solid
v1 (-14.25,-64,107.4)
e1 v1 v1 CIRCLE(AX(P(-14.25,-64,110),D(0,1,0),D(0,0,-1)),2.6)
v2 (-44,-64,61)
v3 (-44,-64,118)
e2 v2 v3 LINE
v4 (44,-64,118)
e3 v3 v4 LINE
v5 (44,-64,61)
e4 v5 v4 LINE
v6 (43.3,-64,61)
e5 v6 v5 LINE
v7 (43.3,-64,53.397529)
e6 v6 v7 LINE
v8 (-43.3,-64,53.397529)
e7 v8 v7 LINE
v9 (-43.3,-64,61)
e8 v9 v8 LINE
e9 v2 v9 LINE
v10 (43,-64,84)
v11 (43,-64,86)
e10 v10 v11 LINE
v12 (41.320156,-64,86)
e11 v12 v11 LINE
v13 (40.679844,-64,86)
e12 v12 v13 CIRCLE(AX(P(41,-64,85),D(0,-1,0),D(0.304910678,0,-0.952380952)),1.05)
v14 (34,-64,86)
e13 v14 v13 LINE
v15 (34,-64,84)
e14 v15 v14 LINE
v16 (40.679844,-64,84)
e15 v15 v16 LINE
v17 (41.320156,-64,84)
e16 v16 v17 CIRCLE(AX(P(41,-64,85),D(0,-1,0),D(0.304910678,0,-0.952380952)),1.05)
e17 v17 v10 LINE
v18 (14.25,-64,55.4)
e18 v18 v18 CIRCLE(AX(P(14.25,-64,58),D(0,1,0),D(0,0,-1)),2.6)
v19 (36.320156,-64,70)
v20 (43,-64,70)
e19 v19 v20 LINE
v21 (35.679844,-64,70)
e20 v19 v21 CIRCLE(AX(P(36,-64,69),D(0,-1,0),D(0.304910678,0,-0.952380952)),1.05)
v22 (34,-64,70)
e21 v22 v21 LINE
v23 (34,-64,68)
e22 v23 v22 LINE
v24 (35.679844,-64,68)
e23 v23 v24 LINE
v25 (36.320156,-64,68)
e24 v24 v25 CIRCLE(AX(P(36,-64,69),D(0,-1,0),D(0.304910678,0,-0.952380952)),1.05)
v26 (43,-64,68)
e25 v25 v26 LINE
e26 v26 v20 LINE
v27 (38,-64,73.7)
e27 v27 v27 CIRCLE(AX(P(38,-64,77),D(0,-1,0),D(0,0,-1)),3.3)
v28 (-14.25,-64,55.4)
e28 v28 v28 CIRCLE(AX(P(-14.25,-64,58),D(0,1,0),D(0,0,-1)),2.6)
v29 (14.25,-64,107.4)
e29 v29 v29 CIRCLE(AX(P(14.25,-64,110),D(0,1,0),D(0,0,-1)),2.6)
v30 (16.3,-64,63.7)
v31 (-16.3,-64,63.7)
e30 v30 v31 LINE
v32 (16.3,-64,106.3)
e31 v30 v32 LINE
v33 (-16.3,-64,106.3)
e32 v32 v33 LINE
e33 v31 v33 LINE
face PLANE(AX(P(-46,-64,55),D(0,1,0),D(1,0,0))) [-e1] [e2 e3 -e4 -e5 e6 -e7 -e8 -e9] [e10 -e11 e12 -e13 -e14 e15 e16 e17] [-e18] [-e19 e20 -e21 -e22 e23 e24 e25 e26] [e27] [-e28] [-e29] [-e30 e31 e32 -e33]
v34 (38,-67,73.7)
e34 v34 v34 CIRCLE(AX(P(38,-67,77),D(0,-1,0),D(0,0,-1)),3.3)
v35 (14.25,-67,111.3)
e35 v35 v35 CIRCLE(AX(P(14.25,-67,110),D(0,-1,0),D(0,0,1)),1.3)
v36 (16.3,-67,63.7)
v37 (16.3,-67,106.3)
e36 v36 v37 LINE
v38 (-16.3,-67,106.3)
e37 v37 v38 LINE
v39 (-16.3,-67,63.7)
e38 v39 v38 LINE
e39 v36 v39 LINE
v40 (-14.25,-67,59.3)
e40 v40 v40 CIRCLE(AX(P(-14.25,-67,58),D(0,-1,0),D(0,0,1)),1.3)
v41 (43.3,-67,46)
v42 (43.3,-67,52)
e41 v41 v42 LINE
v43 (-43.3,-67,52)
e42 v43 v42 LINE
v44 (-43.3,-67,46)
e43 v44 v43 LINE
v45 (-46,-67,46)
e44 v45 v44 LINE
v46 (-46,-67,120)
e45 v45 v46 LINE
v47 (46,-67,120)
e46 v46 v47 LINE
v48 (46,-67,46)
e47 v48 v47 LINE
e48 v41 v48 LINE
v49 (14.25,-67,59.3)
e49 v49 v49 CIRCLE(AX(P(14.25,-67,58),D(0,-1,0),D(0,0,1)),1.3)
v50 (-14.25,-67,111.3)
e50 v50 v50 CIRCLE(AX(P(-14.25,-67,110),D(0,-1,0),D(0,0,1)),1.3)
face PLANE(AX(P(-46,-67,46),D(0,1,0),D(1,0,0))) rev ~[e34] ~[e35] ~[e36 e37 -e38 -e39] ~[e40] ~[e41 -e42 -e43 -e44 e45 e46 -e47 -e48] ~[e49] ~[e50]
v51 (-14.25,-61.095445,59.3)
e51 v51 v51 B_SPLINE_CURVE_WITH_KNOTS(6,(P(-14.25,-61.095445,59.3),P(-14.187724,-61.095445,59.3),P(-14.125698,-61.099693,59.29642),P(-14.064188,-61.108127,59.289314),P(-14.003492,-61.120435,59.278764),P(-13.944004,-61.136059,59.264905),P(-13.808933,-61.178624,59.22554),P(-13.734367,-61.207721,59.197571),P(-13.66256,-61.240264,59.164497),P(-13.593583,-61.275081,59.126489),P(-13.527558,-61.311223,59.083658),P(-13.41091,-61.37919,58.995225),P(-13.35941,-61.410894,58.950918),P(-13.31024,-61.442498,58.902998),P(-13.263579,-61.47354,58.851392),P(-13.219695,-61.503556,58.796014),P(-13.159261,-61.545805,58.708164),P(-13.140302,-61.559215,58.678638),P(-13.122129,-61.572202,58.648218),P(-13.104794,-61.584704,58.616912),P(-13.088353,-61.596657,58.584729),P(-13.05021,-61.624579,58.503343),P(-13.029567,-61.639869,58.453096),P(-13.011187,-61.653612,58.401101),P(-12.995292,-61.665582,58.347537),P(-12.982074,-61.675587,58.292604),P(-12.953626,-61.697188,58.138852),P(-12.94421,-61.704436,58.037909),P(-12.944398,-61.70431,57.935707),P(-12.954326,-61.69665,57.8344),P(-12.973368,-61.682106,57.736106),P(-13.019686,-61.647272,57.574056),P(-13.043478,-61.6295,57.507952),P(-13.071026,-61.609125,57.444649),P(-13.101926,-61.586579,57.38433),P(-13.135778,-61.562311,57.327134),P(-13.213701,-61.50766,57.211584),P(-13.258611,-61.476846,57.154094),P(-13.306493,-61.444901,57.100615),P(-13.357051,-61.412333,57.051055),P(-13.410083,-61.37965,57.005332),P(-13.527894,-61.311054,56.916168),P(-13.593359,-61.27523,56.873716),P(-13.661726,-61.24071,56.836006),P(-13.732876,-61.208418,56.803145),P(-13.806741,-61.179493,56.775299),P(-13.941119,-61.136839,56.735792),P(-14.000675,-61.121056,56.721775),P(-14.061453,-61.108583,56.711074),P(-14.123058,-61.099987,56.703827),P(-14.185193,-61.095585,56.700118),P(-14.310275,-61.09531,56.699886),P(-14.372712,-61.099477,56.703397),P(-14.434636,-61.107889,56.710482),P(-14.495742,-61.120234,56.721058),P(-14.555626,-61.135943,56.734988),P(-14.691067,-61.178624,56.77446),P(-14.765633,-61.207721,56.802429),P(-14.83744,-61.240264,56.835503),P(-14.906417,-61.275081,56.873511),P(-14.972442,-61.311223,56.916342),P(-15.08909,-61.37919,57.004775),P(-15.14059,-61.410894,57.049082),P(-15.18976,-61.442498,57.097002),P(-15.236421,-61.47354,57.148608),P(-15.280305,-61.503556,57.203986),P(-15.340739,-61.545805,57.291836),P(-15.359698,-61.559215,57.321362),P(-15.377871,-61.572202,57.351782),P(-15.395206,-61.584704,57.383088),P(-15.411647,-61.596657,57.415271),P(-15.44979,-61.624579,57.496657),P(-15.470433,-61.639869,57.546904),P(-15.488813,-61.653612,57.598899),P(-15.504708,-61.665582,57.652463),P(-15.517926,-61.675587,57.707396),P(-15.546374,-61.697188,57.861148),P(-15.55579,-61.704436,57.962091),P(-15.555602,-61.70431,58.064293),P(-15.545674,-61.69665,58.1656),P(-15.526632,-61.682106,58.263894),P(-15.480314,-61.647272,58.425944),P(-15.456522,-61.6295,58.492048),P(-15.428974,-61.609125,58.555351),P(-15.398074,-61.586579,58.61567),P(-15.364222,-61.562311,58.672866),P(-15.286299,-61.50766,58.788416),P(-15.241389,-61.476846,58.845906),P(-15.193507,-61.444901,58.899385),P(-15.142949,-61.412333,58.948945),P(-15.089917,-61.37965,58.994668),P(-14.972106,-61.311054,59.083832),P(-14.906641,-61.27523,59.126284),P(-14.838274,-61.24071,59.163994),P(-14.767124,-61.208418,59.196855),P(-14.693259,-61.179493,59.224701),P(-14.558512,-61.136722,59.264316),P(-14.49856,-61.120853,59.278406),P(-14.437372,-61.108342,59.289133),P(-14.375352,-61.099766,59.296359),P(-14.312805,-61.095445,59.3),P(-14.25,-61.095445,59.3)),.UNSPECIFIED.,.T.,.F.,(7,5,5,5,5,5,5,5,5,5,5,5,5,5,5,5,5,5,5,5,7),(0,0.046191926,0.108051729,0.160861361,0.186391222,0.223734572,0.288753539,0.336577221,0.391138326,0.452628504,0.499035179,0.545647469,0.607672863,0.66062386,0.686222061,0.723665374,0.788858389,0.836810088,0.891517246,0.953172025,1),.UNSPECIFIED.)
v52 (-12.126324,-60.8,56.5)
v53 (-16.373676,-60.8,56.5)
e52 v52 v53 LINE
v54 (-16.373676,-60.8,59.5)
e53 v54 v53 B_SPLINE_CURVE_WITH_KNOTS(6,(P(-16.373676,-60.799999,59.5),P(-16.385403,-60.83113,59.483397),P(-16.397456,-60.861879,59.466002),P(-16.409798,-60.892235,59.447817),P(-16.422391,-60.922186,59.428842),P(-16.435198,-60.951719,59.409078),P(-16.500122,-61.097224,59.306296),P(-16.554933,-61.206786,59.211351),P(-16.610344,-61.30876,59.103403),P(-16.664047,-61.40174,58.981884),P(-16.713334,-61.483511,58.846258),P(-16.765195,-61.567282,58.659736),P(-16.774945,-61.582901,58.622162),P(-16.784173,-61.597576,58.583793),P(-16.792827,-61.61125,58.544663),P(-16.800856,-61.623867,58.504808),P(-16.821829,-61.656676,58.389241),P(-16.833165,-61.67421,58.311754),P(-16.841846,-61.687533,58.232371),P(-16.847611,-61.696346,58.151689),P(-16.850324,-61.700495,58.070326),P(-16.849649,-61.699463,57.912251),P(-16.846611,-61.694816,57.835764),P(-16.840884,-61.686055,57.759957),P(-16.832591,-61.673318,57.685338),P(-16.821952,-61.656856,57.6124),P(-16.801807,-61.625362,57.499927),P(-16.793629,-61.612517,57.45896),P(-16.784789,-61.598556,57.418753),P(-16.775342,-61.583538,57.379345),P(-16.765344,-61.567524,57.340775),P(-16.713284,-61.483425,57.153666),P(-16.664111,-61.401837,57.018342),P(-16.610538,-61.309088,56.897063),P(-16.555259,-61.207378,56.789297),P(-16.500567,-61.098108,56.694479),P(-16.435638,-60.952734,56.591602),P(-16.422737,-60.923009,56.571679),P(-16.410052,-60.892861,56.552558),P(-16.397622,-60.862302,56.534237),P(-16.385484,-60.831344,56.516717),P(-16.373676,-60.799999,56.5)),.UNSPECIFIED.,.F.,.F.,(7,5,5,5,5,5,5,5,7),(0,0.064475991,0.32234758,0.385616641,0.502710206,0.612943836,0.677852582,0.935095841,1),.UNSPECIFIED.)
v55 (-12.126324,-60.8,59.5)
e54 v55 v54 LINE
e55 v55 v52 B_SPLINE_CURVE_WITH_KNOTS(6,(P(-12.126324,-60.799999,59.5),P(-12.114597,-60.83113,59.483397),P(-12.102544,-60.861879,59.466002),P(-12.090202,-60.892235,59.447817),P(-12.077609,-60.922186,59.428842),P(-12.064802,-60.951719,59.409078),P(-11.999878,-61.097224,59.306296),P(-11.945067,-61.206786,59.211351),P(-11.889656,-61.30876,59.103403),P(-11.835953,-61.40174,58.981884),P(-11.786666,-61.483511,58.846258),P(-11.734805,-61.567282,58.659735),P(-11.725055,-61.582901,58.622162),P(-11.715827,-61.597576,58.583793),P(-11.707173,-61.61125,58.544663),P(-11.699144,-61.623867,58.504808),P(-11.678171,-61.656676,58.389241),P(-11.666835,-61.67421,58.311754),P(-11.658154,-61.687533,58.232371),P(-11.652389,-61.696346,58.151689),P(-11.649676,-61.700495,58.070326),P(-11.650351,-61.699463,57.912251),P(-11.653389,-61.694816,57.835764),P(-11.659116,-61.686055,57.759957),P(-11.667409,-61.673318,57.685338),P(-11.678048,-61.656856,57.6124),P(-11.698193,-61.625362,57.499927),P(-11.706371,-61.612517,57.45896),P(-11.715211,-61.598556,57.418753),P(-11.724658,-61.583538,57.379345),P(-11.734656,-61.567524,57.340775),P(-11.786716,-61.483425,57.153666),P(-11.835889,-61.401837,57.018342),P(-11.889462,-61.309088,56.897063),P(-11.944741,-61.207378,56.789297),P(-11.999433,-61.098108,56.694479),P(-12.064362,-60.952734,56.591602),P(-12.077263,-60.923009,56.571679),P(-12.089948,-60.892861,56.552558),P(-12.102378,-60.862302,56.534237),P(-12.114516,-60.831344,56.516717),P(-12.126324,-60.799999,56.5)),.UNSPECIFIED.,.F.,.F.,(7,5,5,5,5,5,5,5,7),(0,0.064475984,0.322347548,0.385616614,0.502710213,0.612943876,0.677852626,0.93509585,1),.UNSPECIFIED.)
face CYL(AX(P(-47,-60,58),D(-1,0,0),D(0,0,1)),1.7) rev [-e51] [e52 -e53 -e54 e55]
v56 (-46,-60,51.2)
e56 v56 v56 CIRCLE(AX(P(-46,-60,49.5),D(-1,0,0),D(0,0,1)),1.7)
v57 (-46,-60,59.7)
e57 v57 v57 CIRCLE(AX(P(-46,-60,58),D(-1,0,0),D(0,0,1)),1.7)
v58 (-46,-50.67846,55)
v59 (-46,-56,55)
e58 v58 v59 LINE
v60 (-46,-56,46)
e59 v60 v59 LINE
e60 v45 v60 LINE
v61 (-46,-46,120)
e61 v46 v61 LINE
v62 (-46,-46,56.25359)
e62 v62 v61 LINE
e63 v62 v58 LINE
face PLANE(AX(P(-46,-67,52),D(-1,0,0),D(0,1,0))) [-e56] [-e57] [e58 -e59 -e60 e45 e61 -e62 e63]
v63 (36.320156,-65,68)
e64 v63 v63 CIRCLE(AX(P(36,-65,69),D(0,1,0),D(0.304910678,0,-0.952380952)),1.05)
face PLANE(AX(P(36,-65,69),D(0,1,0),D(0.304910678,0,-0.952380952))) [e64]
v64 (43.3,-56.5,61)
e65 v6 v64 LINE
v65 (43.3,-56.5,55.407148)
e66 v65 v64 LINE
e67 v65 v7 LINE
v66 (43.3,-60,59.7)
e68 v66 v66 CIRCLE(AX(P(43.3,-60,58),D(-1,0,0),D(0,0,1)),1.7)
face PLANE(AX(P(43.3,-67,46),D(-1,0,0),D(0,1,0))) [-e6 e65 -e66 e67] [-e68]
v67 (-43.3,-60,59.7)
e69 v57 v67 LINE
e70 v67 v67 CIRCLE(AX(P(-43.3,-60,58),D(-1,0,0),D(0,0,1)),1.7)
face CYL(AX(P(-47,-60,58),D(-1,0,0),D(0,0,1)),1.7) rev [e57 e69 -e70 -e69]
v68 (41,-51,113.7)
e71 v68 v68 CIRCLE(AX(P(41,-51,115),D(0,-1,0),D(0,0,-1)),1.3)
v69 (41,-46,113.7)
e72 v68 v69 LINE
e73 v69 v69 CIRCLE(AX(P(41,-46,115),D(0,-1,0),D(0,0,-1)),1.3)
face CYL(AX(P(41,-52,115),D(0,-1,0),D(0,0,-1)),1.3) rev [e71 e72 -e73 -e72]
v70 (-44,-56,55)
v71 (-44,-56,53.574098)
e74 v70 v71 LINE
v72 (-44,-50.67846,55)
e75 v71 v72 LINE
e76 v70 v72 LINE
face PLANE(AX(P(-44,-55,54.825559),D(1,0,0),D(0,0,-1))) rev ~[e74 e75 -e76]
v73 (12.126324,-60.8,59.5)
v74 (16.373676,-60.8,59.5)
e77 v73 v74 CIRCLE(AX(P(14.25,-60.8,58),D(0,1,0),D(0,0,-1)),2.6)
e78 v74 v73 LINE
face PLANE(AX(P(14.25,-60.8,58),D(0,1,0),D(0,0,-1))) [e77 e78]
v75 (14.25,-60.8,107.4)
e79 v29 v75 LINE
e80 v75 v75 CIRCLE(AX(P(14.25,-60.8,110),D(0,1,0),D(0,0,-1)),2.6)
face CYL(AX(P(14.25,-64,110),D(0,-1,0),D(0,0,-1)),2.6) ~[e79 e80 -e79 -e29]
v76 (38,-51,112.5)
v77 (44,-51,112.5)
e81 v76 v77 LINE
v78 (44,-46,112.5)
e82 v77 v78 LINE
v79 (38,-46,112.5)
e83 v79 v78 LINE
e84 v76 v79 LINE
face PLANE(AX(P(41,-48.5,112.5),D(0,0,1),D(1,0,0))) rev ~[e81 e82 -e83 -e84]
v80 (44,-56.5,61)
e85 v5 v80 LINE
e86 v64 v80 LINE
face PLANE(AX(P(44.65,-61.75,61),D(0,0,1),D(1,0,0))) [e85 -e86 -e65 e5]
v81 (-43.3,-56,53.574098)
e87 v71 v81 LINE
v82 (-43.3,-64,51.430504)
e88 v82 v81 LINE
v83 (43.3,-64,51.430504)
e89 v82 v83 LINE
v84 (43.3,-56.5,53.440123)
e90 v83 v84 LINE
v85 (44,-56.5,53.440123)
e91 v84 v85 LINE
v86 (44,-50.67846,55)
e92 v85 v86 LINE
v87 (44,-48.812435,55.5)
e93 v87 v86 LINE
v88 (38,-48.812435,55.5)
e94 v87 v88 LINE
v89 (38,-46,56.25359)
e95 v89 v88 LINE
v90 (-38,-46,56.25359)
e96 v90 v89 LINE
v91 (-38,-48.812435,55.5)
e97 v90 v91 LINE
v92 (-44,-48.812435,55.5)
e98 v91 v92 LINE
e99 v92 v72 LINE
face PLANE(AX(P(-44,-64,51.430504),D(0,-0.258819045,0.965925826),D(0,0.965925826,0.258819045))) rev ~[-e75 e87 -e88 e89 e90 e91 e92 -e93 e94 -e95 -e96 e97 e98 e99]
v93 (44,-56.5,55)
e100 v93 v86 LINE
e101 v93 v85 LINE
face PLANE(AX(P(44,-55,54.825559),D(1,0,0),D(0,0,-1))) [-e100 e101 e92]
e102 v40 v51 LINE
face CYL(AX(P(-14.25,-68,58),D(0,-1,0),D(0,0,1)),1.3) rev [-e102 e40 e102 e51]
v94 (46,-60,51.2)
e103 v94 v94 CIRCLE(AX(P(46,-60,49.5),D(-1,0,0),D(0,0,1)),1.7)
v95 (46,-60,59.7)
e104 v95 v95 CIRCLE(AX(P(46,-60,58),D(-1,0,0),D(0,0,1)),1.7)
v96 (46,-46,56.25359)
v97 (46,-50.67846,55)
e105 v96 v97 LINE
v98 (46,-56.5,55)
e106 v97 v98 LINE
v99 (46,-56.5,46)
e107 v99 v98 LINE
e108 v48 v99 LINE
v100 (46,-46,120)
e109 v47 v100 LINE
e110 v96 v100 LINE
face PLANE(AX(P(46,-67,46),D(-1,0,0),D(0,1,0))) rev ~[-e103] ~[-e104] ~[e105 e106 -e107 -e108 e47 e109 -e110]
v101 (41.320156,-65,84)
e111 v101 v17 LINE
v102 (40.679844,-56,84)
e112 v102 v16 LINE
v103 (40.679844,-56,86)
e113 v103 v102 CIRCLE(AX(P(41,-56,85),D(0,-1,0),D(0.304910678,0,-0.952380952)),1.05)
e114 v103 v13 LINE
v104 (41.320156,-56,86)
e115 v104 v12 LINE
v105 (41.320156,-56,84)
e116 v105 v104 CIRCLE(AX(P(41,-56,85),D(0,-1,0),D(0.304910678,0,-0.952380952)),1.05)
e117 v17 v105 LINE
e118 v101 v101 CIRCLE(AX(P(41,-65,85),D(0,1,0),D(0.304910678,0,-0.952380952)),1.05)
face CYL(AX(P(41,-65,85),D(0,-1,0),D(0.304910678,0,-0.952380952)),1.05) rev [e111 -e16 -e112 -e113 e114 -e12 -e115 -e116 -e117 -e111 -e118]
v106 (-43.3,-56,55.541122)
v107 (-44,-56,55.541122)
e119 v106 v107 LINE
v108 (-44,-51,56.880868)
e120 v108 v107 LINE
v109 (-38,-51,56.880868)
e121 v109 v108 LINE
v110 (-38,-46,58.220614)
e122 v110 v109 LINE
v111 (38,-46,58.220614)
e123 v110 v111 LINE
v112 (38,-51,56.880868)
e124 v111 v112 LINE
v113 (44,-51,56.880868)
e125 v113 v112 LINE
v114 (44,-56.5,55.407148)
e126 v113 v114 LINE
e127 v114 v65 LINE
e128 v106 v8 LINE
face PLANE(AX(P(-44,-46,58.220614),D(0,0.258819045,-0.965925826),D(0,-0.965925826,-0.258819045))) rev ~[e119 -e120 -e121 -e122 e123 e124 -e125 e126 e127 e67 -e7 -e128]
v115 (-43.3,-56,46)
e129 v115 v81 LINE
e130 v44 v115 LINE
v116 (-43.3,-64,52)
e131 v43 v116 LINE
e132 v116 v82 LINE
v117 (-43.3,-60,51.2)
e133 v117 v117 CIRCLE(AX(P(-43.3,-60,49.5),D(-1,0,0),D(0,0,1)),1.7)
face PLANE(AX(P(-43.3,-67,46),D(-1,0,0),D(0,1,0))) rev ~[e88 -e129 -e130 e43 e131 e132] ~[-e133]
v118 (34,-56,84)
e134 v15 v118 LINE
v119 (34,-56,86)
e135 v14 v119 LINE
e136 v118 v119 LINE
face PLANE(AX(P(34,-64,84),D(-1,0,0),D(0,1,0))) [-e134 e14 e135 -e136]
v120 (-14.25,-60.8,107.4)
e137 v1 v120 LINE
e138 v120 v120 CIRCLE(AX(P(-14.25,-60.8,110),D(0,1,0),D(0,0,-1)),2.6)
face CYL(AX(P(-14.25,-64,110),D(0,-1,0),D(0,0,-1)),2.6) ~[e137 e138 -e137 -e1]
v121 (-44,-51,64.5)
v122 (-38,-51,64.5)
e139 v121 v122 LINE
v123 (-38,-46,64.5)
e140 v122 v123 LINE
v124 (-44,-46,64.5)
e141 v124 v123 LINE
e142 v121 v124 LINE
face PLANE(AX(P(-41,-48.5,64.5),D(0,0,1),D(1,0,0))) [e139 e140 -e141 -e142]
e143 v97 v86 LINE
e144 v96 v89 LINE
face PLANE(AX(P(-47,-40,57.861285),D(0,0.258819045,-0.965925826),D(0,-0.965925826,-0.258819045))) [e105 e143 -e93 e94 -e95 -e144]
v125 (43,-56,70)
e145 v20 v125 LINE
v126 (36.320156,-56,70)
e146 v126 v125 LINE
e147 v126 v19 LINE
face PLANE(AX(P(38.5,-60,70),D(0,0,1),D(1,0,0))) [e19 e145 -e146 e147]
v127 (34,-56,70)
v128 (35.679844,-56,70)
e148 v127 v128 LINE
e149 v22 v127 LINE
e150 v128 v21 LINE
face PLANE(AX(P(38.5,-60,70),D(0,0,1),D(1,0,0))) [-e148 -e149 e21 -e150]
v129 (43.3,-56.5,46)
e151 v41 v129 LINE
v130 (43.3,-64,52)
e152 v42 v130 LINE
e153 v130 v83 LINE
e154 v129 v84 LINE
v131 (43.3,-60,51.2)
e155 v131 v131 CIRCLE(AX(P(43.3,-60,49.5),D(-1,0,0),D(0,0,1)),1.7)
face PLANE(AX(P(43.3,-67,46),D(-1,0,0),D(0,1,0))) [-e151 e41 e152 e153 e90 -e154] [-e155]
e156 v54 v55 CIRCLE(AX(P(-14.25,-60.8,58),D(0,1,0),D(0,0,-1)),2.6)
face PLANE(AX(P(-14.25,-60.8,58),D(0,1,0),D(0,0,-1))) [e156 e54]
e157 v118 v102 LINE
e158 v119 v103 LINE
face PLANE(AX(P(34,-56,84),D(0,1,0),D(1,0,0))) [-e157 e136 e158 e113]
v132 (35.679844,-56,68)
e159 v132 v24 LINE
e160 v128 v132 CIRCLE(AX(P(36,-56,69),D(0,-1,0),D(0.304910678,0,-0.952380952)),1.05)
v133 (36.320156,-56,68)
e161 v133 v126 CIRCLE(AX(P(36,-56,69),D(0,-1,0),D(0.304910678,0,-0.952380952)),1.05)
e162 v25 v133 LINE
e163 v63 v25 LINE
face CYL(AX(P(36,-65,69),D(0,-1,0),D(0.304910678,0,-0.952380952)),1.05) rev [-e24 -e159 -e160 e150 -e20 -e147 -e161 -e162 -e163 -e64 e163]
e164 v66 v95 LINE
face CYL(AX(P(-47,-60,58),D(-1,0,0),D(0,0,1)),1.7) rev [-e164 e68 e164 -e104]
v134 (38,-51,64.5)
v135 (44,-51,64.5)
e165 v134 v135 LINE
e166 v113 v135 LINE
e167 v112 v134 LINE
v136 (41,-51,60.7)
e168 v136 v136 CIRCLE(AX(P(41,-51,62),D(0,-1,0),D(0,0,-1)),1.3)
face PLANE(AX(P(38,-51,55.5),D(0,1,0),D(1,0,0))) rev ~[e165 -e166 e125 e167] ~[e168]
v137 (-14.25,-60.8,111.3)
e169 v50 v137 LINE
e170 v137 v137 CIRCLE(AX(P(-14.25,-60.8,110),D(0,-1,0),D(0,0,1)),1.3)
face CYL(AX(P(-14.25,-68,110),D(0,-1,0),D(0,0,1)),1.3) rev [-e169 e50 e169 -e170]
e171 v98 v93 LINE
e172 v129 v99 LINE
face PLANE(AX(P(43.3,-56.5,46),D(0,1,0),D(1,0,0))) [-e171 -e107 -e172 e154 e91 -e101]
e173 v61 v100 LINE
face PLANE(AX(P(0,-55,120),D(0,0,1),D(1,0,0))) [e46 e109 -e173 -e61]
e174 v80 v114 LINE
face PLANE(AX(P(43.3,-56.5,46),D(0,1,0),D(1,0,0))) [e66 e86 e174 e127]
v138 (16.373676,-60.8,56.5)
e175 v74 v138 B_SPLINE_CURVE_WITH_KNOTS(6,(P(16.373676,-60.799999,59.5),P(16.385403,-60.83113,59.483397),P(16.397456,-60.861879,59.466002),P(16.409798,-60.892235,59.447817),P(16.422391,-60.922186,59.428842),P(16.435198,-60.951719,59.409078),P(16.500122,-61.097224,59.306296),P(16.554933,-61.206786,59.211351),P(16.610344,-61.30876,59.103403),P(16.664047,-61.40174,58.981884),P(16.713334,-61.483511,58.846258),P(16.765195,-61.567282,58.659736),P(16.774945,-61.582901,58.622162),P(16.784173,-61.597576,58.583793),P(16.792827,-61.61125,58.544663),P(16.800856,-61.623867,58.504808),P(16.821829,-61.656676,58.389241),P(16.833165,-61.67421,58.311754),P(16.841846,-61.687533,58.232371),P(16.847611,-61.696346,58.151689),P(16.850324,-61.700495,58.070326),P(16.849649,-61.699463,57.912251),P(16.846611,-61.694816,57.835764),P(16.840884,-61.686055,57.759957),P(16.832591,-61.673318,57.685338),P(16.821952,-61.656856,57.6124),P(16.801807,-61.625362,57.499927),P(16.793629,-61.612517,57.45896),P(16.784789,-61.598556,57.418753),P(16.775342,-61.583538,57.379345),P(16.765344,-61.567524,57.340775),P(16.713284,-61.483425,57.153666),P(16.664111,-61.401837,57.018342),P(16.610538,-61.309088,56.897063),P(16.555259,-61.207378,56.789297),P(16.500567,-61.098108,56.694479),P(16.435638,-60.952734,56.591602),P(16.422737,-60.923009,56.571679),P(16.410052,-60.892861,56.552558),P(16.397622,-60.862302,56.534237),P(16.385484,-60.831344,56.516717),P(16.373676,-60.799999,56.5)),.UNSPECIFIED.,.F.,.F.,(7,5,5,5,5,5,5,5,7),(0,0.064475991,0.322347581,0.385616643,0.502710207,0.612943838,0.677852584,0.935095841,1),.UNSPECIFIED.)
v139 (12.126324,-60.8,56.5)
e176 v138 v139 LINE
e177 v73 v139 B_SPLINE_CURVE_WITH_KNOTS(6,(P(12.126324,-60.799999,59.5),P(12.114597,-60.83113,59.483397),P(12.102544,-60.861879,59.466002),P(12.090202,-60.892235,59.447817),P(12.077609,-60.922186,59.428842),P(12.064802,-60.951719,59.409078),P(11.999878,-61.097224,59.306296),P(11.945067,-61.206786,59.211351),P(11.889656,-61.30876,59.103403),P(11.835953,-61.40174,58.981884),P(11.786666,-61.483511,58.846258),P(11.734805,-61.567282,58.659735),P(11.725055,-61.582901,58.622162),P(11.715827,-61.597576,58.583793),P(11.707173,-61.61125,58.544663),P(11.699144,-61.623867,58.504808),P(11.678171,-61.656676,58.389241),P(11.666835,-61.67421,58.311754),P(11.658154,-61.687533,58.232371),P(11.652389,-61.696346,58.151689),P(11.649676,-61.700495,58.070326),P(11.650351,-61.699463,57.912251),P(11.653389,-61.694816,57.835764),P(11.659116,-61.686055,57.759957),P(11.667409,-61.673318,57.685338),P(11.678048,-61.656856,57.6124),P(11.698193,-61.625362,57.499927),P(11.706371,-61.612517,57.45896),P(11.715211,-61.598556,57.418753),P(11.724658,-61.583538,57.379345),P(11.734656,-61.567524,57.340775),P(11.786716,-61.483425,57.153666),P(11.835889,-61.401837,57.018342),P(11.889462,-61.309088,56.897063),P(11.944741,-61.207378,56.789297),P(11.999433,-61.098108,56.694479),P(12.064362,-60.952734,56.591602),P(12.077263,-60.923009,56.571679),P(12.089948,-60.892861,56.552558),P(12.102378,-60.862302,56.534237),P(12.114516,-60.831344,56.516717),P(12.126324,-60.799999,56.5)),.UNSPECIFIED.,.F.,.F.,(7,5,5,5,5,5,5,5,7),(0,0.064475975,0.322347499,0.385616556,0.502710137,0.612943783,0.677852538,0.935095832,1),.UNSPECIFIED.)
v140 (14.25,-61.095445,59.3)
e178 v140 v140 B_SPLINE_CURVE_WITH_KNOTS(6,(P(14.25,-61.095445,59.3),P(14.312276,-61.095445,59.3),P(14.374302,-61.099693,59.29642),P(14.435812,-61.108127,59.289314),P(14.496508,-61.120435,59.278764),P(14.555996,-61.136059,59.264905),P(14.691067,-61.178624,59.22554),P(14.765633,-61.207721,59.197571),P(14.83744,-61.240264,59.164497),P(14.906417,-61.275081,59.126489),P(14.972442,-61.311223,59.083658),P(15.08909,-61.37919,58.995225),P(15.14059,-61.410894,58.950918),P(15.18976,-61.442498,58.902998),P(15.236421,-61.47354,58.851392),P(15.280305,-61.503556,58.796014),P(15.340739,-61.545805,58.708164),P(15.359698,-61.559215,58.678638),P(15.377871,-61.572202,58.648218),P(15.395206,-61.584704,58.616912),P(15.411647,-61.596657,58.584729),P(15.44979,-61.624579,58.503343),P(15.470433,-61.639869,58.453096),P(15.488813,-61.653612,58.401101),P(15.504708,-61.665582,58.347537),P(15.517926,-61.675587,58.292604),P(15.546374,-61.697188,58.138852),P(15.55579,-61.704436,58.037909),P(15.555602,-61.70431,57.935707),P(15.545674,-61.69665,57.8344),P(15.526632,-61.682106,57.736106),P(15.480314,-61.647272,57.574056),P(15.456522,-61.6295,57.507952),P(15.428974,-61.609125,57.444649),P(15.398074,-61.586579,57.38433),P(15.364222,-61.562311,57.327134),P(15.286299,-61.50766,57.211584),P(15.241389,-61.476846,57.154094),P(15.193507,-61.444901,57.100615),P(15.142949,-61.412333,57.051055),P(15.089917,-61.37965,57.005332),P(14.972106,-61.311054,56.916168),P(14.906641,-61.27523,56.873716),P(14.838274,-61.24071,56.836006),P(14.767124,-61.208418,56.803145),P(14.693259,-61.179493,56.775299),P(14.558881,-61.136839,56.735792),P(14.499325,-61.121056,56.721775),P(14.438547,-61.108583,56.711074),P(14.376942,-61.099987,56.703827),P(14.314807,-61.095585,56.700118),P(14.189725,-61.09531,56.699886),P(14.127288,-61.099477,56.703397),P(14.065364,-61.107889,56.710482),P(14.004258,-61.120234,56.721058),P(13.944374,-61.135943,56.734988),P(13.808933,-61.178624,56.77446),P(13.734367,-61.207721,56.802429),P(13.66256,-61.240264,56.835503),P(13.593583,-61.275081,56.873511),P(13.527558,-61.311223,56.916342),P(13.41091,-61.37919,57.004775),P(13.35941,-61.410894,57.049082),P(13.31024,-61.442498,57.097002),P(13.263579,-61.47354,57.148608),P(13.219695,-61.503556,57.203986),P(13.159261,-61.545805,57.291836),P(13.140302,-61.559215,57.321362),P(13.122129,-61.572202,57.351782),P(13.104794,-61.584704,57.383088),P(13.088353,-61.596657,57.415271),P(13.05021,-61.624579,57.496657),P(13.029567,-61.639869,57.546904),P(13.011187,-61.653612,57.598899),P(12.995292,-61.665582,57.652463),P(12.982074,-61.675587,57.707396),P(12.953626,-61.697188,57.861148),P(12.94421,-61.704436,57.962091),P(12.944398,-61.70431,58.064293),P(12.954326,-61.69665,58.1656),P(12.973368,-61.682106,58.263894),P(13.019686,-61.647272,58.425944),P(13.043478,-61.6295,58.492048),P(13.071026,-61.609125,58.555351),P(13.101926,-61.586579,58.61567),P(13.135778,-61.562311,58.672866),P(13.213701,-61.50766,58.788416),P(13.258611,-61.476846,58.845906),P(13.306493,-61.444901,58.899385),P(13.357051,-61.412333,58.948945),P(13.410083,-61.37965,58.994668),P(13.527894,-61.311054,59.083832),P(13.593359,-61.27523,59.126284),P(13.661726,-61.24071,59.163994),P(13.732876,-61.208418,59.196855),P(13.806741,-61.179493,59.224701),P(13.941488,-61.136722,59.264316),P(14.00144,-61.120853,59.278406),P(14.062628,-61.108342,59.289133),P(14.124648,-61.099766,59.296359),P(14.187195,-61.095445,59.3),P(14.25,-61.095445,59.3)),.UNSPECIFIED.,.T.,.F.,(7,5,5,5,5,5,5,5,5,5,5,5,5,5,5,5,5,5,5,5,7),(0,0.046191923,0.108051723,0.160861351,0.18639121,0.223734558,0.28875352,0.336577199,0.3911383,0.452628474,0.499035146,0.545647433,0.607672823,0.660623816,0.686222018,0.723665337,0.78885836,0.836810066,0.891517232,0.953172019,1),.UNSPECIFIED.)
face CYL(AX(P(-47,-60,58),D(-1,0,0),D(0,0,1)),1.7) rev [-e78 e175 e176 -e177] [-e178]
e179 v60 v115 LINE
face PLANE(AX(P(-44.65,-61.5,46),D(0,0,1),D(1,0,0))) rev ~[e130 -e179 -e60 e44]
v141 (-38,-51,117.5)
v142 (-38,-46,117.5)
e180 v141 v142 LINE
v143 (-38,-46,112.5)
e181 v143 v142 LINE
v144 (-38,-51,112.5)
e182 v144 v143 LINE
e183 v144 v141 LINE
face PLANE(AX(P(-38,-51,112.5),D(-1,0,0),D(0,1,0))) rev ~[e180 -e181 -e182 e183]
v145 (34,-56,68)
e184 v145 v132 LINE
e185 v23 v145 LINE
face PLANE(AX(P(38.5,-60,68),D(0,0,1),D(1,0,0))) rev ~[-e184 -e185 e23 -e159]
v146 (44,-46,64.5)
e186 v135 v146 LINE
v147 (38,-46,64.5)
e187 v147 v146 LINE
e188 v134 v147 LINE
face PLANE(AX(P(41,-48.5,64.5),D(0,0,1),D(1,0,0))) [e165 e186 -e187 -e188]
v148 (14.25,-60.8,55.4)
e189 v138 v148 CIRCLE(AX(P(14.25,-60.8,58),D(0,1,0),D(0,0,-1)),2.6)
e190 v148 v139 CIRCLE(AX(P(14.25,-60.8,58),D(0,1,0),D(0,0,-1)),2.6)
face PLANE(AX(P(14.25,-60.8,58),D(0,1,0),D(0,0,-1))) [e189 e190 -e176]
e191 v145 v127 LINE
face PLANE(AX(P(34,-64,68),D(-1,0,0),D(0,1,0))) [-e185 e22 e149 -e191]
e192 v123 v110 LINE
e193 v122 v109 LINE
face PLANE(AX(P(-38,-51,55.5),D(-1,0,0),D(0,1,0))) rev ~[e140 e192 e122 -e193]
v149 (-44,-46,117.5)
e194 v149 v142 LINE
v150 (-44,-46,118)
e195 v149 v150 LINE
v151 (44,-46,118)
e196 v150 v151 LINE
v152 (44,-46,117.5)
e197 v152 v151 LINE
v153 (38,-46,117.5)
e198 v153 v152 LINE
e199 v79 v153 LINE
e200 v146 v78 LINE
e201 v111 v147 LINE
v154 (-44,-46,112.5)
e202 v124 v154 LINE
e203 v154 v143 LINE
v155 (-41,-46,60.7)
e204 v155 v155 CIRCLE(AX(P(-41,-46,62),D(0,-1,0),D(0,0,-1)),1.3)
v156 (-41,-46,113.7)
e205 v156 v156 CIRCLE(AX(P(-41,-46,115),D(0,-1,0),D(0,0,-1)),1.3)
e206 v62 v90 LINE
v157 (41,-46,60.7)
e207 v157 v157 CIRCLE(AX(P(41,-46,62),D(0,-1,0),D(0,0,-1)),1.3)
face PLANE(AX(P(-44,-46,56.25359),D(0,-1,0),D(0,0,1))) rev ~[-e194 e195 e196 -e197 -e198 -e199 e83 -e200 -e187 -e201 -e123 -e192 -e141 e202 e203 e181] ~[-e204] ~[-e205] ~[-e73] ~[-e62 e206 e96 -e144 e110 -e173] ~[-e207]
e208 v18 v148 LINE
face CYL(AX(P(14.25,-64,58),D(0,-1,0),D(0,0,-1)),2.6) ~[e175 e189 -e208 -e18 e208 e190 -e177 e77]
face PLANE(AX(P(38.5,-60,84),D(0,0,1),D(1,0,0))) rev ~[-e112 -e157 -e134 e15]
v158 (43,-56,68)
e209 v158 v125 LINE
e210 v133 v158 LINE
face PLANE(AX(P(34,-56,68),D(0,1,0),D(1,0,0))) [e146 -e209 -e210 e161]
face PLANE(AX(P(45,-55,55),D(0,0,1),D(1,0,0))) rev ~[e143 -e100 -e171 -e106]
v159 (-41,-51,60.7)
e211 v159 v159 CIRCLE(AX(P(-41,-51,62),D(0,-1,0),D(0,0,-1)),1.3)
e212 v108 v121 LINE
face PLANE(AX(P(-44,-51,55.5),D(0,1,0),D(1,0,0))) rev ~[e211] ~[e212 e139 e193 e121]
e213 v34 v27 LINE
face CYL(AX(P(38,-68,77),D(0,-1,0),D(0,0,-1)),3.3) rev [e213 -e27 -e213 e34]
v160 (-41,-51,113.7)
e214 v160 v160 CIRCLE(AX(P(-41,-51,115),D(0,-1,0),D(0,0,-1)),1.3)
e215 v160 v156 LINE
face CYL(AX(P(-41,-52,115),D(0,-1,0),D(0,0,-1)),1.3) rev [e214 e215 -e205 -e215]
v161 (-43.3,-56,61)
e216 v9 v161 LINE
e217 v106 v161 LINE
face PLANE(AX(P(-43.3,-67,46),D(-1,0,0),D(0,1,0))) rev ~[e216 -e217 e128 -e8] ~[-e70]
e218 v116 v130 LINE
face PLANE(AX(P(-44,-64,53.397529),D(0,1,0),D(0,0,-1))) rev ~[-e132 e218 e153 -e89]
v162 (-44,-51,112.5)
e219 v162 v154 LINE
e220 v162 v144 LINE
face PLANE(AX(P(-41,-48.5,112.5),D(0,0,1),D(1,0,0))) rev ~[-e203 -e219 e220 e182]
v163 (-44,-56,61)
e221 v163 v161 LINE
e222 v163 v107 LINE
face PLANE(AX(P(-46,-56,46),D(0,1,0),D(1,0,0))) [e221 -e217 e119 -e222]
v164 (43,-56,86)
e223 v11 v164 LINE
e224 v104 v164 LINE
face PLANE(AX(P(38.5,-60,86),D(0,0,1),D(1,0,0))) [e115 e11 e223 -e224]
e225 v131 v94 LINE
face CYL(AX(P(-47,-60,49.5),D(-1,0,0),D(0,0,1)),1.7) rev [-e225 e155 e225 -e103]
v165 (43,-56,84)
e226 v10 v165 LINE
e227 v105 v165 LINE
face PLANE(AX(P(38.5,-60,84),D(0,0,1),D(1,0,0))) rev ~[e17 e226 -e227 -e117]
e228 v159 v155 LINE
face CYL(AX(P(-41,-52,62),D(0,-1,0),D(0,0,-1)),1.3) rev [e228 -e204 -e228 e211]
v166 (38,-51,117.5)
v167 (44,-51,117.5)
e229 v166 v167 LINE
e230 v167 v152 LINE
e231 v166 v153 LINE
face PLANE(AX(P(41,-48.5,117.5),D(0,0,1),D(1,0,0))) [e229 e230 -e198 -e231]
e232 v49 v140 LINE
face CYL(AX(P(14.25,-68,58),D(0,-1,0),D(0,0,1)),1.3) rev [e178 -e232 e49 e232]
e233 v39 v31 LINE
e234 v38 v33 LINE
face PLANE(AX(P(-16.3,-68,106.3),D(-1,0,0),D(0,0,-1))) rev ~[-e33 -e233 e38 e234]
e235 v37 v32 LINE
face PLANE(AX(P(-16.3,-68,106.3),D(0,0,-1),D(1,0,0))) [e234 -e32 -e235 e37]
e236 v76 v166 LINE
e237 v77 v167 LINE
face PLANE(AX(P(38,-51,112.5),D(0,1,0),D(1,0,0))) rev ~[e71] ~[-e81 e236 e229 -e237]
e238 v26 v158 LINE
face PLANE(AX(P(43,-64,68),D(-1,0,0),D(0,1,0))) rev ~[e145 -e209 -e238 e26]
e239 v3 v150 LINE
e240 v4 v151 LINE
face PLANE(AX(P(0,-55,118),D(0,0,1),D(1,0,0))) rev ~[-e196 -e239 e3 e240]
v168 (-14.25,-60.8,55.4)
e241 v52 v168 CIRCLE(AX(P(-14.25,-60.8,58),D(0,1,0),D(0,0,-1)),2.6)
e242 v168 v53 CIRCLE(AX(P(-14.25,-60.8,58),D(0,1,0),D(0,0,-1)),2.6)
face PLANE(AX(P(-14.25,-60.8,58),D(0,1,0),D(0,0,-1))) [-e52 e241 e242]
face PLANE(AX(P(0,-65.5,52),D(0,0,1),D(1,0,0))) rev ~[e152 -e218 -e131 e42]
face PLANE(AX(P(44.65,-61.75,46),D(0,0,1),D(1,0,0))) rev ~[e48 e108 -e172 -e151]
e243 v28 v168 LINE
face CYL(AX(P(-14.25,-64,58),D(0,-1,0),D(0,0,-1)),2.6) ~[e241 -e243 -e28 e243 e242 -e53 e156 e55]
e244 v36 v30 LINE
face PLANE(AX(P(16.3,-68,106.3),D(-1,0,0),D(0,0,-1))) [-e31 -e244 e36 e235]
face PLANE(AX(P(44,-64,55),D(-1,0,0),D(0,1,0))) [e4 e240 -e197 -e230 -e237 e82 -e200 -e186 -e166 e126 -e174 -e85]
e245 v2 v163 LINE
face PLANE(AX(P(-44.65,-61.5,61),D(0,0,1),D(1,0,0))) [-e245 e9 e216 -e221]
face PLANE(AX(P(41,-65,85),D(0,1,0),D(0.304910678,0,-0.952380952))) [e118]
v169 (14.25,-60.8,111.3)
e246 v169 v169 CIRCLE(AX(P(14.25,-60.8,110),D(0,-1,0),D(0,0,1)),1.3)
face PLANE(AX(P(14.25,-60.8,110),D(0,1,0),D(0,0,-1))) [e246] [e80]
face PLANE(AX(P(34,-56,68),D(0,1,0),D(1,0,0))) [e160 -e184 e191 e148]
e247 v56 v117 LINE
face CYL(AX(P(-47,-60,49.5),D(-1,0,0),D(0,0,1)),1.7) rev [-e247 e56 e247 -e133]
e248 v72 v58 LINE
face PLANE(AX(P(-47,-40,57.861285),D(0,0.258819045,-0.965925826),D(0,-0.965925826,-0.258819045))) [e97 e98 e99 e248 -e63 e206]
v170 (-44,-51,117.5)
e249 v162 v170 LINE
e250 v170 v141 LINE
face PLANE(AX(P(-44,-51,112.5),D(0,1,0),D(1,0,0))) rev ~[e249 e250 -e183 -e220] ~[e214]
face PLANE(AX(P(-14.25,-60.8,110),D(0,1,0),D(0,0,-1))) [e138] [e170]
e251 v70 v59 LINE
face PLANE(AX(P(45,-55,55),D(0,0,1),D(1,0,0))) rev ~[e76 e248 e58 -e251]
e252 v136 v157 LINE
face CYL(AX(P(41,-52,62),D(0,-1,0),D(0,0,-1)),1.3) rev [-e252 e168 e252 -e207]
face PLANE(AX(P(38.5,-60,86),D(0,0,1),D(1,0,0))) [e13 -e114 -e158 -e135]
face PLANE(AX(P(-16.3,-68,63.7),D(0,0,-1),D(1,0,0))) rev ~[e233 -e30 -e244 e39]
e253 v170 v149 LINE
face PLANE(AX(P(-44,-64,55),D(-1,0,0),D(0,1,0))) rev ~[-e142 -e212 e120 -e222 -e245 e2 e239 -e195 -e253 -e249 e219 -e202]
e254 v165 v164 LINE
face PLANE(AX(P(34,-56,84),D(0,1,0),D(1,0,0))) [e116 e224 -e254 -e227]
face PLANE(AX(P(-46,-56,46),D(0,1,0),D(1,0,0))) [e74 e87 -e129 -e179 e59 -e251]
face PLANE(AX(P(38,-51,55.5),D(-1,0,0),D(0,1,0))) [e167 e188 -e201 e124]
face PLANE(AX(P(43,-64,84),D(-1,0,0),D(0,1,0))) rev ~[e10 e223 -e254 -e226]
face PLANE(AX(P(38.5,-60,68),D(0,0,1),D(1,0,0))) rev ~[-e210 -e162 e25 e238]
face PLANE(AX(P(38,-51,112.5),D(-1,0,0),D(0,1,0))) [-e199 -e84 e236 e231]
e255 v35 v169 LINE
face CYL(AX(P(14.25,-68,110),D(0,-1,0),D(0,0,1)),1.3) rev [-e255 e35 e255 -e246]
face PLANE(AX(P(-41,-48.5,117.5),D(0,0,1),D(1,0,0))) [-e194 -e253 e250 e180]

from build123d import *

# Parameters (mm, degrees)
SKETCH_1_W                                 = 92
SKETCH_1_H                                 = 3
FRONT_PANEL_1_DEPTH                        = 65
SKETCH_2_W                                 = 32.6
SKETCH_2_H                                 = 42.6
STEP_PORTRAIT_LCD_WINDOW_32_6X42_6_2_DEPTH = 5
SKETCH_3_R                                 = 3.3
BUTTON_BORE_3_DEPTH                        = 5
SKETCH_4_R                                 = 2.6
FOUR_M3_PCB_STANDOFFS_4_DEPTH              = 3.2
SKETCH_5_R                                 = 1.3
M3_PCB_MOUNT_PILOTS_52X28_5_5_DEPTH        = 9
SKETCH_6_W                                 = 2
SKETCH_6_H                                 = 18
HOUSING_LEFT_6_DEPTH                       = 65
SKETCH_7_W                                 = 2
SKETCH_7_H                                 = 18
HOUSING_RIGHT_7_DEPTH                      = 65
SKETCH_9_W                                 = 88
SKETCH_9_H                                 = 18
HOUSING_TOP_9_DEPTH                        = 2
SKETCH_10_W                                = 6
SKETCH_10_H                                = 5
COVER_POST_LB_10_DEPTH                     = 5
SKETCH_11_W                                = 6
SKETCH_11_H                                = 5
COVER_POST_RB_11_DEPTH                     = 5
SKETCH_12_W                                = 6
SKETCH_12_H                                = 5
COVER_POST_LT_12_DEPTH                     = 5
SKETCH_13_W                                = 6
SKETCH_13_H                                = 5
COVER_POST_RT_13_DEPTH                     = 5
SKETCH_15_W                                = 9
SKETCH_15_H                                = 8
BUTTON_LOWER_SHELF_15_DEPTH                = 2
SKETCH_16_W                                = 9
SKETCH_16_H                                = 8
BUTTON_UPPER_SHELF_16_DEPTH                = 2
SKETCH_17_R                                = 1.05
BUTTON_CARRIER_M2_PILOTS_17_DEPTH          = 10
SKETCH_18_W                                = 2.7
SKETCH_18_H                                = 10.5
RIGHT_TILT_EAR_18_DEPTH                    = 15
SKETCH_19_W                                = 2.7
SKETCH_19_H                                = 11
LEFT_TILT_EAR_19_DEPTH                     = 15
SKETCH_20_R                                = 1.7
M3_HINGE_AND_ANGLE_LOCK_20_DEPTH           = 94
SKETCH_21_W                                = 92
SKETCH_21_H                                = 3
FRONT_LOWER_EXTENSION_201_DEPTH            = 3
HOUSING_CAGE_ROOF_CLEARANCE_202_DEPTH      = 94
HORIZONTAL_ENCLOSURE_FLOOR_203_DEPTH       = 88
SKETCH_24_W                                = 6
SKETCH_24_H                                = 5
COVER_LOWER_POST_L_204_DEPTH               = 5
SKETCH_25_W                                = 6
SKETCH_25_H                                = 5
COVER_LOWER_POST_R_205_DEPTH               = 5
SKETCH_26_R                                = 1.3
REAR_COVER_M3_PILOTS_FINAL_206_DEPTH       = 8


with BuildPart() as part:
    # Эскиз1 → Front_panel_1 (new body)
    with BuildSketch(Plane.XY.offset(55)):
        with Locations((0, -65.5)):
            Rectangle(SKETCH_1_W, SKETCH_1_H)
    extrude(amount=FRONT_PANEL_1_DEPTH)

    # Эскиз2 → STEP_portrait_LCD_window_32_6x42_6_2 (cut)
    with BuildSketch(Plane(origin=(0, -68, 0), x_dir=(1, 0, 0), z_dir=(0, 1, 0))):
        with Locations((0, -85)):
            Rectangle(SKETCH_2_W, SKETCH_2_H)
    extrude(amount=STEP_PORTRAIT_LCD_WINDOW_32_6X42_6_2_DEPTH, mode=Mode.SUBTRACT)

    # Эскиз3 → Button_bore_3 (cut)
    with BuildSketch(Plane(origin=(0, -68, 0), x_dir=(1, 0, 0), z_dir=(0, 1, 0))):
        with Locations(Location((38, -77, 0), (0, 0, 90))):
            Circle(SKETCH_3_R)
    extrude(amount=BUTTON_BORE_3_DEPTH, mode=Mode.SUBTRACT)

    # Эскиз4 → Four_M3_PCB_standoffs_4 (add)
    with BuildSketch(Plane(origin=(0, -64, 0), x_dir=(1, 0, 0), z_dir=(0, 1, 0))):
        with Locations(Location((-14.25, -58, 0), (0, 0, 90))):
            Circle(SKETCH_4_R)
        with Locations(Location((-14.25, -110, 0), (0, 0, 90))):
            Circle(SKETCH_4_R)
        with Locations(Location((14.25, -58, 0), (0, 0, 90))):
            Circle(SKETCH_4_R)
        with Locations(Location((14.25, -110, 0), (0, 0, 90))):
            Circle(SKETCH_4_R)
    extrude(amount=FOUR_M3_PCB_STANDOFFS_4_DEPTH)

    # Эскиз5 → M3_PCB_mount_pilots_52x28_5_5 (cut)
    with BuildSketch(Plane(origin=(0, -68, 0), x_dir=(1, 0, 0), z_dir=(0, 1, 0))):
        with Locations(Location((-14.25, -58, 0), (0, 0, 270))):
            Circle(SKETCH_5_R)
        with Locations(Location((14.25, -58, 0), (0, 0, 270))):
            Circle(SKETCH_5_R)
        with Locations(Location((-14.25, -110, 0), (0, 0, 270))):
            Circle(SKETCH_5_R)
        with Locations(Location((14.25, -110, 0), (0, 0, 270))):
            Circle(SKETCH_5_R)
    extrude(amount=M3_PCB_MOUNT_PILOTS_52X28_5_5_DEPTH, mode=Mode.SUBTRACT)

    # Эскиз6 → Housing_left_6 (add)
    with BuildSketch(Plane.XY.offset(55)):
        with Locations((-45, -55)):
            Rectangle(SKETCH_6_W, SKETCH_6_H)
    extrude(amount=HOUSING_LEFT_6_DEPTH)

    # Эскиз7 → Housing_right_7 (add)
    with BuildSketch(Plane.XY.offset(55)):
        with Locations((45, -55)):
            Rectangle(SKETCH_7_W, SKETCH_7_H)
    extrude(amount=HOUSING_RIGHT_7_DEPTH)

    # Эскиз9 → Housing_top_9 (add)
    with BuildSketch(Plane.XY.offset(118)):
        with Locations((0, -55)):
            Rectangle(SKETCH_9_W, SKETCH_9_H)
    extrude(amount=HOUSING_TOP_9_DEPTH)

    # Эскиз10 → Cover_post_LB_10 (add)
    with BuildSketch(Plane.XY.offset(55.5)):
        with Locations((-41, -48.5)):
            Rectangle(SKETCH_10_W, SKETCH_10_H)
    extrude(amount=COVER_POST_LB_10_DEPTH)

    # Эскиз11 → Cover_post_RB_11 (add)
    with BuildSketch(Plane.XY.offset(55.5)):
        with Locations((41, -48.5)):
            Rectangle(SKETCH_11_W, SKETCH_11_H)
    extrude(amount=COVER_POST_RB_11_DEPTH)

    # Эскиз12 → Cover_post_LT_12 (add)
    with BuildSketch(Plane.XY.offset(112.5)):
        with Locations((-41, -48.5)):
            Rectangle(SKETCH_12_W, SKETCH_12_H)
    extrude(amount=COVER_POST_LT_12_DEPTH)

    # Эскиз13 → Cover_post_RT_13 (add)
    with BuildSketch(Plane.XY.offset(112.5)):
        with Locations((41, -48.5)):
            Rectangle(SKETCH_13_W, SKETCH_13_H)
    extrude(amount=COVER_POST_RT_13_DEPTH)

    # Эскиз15 → Button_lower_shelf_15 (add)
    with BuildSketch(Plane.XY.offset(68)):
        with Locations((38.5, -60)):
            Rectangle(SKETCH_15_W, SKETCH_15_H)
    extrude(amount=BUTTON_LOWER_SHELF_15_DEPTH)

    # Эскиз16 → Button_upper_shelf_16 (add)
    with BuildSketch(Plane.XY.offset(84)):
        with Locations((38.5, -60)):
            Rectangle(SKETCH_16_W, SKETCH_16_H)
    extrude(amount=BUTTON_UPPER_SHELF_16_DEPTH)

    # Эскиз17 → Button_carrier_M2_pilots_17 (cut)
    with BuildSketch(Plane(origin=(0, -65, 0), x_dir=(1, 0, 0), z_dir=(0, 1, 0))):
        with Locations(Location((36, -69, 0), (0, 0, 72.247209838))):
            Circle(SKETCH_17_R)
        with Locations(Location((41, -85, 0), (0, 0, 72.247209838))):
            Circle(SKETCH_17_R)
    extrude(amount=BUTTON_CARRIER_M2_PILOTS_17_DEPTH, mode=Mode.SUBTRACT)

    # Эскиз18 → Right_tilt_ear_18 (add)
    with BuildSketch(Plane.XY.offset(46)):
        with Locations((44.65, -61.75)):
            Rectangle(SKETCH_18_W, SKETCH_18_H)
    extrude(amount=RIGHT_TILT_EAR_18_DEPTH)

    # Эскиз19 → Left_tilt_ear_19 (add)
    with BuildSketch(Plane.XY.offset(46)):
        with Locations((-44.65, -61.5)):
            Rectangle(SKETCH_19_W, SKETCH_19_H)
    extrude(amount=LEFT_TILT_EAR_19_DEPTH)

    # Эскиз20 → M3_hinge_and_angle_lock_20 (cut)
    with BuildSketch(Plane(origin=(-47, 0, 0), x_dir=(0, 0, -1), z_dir=(1, 0, 0))):
        with Locations(Location((-49.5, -60, 0), (0, 0, 180))):
            Circle(SKETCH_20_R)
        with Locations(Location((-58, -60, 0), (0, 0, 180))):
            Circle(SKETCH_20_R)
    extrude(amount=M3_HINGE_AND_ANGLE_LOCK_20_DEPTH, mode=Mode.SUBTRACT)

    # Эскиз21 → Front_lower_extension_201 (add)
    with BuildSketch(Plane.XY.offset(52)):
        with Locations((0, -65.5)):
            Rectangle(SKETCH_21_W, SKETCH_21_H)
    extrude(amount=FRONT_LOWER_EXTENSION_201_DEPTH)

    # Эскиз22 → Housing_cage_roof_clearance_202 (cut)
    with BuildSketch(Plane(origin=(-47, 0, 0), x_dir=(0, 0, -1), z_dir=(1, 0, 0))):
        Polygon((-10, -55), (-10, -40), (-57.861284772, -40), (-53.842046885, -55), align=None)
    extrude(amount=HOUSING_CAGE_ROOF_CLEARANCE_202_DEPTH, mode=Mode.SUBTRACT)

    # Эскиз23 → Horizontal_enclosure_floor_203 (add)
    with BuildSketch(Plane(origin=(-44, 0, 0), x_dir=(0, 0, -1), z_dir=(1, 0, 0))):
        Polygon((-51.430504153, -64), (-56.253589617, -46), (-58.22061436, -46), (-53.397528896, -64), align=None)
    extrude(amount=HORIZONTAL_ENCLOSURE_FLOOR_203_DEPTH)

    # Эскиз24 → Cover_lower_post_L_204 (add)
    with BuildSketch(Plane.XY.offset(59.5)):
        with Locations((-41, -48.5)):
            Rectangle(SKETCH_24_W, SKETCH_24_H)
    extrude(amount=COVER_LOWER_POST_L_204_DEPTH)

    # Эскиз25 → Cover_lower_post_R_205 (add)
    with BuildSketch(Plane.XY.offset(59.5)):
        with Locations((41, -48.5)):
            Rectangle(SKETCH_25_W, SKETCH_25_H)
    extrude(amount=COVER_LOWER_POST_R_205_DEPTH)

    # Эскиз26 → Rear_cover_M3_pilots_final_206 (cut)
    with BuildSketch(Plane(origin=(0, -52, 0), x_dir=(1, 0, 0), z_dir=(0, 1, 0))):
        with Locations(Location((-41, -62, 0), (0, 0, 90))):
            Circle(SKETCH_26_R)
        with Locations(Location((41, -62, 0), (0, 0, 90))):
            Circle(SKETCH_26_R)
        with Locations(Location((-41, -115, 0), (0, 0, 90))):
            Circle(SKETCH_26_R)
        with Locations(Location((41, -115, 0), (0, 0, 90))):
            Circle(SKETCH_26_R)
    extrude(amount=REAR_COVER_M3_PILOTS_FINAL_206_DEPTH, mode=Mode.SUBTRACT)


solid = part.part
